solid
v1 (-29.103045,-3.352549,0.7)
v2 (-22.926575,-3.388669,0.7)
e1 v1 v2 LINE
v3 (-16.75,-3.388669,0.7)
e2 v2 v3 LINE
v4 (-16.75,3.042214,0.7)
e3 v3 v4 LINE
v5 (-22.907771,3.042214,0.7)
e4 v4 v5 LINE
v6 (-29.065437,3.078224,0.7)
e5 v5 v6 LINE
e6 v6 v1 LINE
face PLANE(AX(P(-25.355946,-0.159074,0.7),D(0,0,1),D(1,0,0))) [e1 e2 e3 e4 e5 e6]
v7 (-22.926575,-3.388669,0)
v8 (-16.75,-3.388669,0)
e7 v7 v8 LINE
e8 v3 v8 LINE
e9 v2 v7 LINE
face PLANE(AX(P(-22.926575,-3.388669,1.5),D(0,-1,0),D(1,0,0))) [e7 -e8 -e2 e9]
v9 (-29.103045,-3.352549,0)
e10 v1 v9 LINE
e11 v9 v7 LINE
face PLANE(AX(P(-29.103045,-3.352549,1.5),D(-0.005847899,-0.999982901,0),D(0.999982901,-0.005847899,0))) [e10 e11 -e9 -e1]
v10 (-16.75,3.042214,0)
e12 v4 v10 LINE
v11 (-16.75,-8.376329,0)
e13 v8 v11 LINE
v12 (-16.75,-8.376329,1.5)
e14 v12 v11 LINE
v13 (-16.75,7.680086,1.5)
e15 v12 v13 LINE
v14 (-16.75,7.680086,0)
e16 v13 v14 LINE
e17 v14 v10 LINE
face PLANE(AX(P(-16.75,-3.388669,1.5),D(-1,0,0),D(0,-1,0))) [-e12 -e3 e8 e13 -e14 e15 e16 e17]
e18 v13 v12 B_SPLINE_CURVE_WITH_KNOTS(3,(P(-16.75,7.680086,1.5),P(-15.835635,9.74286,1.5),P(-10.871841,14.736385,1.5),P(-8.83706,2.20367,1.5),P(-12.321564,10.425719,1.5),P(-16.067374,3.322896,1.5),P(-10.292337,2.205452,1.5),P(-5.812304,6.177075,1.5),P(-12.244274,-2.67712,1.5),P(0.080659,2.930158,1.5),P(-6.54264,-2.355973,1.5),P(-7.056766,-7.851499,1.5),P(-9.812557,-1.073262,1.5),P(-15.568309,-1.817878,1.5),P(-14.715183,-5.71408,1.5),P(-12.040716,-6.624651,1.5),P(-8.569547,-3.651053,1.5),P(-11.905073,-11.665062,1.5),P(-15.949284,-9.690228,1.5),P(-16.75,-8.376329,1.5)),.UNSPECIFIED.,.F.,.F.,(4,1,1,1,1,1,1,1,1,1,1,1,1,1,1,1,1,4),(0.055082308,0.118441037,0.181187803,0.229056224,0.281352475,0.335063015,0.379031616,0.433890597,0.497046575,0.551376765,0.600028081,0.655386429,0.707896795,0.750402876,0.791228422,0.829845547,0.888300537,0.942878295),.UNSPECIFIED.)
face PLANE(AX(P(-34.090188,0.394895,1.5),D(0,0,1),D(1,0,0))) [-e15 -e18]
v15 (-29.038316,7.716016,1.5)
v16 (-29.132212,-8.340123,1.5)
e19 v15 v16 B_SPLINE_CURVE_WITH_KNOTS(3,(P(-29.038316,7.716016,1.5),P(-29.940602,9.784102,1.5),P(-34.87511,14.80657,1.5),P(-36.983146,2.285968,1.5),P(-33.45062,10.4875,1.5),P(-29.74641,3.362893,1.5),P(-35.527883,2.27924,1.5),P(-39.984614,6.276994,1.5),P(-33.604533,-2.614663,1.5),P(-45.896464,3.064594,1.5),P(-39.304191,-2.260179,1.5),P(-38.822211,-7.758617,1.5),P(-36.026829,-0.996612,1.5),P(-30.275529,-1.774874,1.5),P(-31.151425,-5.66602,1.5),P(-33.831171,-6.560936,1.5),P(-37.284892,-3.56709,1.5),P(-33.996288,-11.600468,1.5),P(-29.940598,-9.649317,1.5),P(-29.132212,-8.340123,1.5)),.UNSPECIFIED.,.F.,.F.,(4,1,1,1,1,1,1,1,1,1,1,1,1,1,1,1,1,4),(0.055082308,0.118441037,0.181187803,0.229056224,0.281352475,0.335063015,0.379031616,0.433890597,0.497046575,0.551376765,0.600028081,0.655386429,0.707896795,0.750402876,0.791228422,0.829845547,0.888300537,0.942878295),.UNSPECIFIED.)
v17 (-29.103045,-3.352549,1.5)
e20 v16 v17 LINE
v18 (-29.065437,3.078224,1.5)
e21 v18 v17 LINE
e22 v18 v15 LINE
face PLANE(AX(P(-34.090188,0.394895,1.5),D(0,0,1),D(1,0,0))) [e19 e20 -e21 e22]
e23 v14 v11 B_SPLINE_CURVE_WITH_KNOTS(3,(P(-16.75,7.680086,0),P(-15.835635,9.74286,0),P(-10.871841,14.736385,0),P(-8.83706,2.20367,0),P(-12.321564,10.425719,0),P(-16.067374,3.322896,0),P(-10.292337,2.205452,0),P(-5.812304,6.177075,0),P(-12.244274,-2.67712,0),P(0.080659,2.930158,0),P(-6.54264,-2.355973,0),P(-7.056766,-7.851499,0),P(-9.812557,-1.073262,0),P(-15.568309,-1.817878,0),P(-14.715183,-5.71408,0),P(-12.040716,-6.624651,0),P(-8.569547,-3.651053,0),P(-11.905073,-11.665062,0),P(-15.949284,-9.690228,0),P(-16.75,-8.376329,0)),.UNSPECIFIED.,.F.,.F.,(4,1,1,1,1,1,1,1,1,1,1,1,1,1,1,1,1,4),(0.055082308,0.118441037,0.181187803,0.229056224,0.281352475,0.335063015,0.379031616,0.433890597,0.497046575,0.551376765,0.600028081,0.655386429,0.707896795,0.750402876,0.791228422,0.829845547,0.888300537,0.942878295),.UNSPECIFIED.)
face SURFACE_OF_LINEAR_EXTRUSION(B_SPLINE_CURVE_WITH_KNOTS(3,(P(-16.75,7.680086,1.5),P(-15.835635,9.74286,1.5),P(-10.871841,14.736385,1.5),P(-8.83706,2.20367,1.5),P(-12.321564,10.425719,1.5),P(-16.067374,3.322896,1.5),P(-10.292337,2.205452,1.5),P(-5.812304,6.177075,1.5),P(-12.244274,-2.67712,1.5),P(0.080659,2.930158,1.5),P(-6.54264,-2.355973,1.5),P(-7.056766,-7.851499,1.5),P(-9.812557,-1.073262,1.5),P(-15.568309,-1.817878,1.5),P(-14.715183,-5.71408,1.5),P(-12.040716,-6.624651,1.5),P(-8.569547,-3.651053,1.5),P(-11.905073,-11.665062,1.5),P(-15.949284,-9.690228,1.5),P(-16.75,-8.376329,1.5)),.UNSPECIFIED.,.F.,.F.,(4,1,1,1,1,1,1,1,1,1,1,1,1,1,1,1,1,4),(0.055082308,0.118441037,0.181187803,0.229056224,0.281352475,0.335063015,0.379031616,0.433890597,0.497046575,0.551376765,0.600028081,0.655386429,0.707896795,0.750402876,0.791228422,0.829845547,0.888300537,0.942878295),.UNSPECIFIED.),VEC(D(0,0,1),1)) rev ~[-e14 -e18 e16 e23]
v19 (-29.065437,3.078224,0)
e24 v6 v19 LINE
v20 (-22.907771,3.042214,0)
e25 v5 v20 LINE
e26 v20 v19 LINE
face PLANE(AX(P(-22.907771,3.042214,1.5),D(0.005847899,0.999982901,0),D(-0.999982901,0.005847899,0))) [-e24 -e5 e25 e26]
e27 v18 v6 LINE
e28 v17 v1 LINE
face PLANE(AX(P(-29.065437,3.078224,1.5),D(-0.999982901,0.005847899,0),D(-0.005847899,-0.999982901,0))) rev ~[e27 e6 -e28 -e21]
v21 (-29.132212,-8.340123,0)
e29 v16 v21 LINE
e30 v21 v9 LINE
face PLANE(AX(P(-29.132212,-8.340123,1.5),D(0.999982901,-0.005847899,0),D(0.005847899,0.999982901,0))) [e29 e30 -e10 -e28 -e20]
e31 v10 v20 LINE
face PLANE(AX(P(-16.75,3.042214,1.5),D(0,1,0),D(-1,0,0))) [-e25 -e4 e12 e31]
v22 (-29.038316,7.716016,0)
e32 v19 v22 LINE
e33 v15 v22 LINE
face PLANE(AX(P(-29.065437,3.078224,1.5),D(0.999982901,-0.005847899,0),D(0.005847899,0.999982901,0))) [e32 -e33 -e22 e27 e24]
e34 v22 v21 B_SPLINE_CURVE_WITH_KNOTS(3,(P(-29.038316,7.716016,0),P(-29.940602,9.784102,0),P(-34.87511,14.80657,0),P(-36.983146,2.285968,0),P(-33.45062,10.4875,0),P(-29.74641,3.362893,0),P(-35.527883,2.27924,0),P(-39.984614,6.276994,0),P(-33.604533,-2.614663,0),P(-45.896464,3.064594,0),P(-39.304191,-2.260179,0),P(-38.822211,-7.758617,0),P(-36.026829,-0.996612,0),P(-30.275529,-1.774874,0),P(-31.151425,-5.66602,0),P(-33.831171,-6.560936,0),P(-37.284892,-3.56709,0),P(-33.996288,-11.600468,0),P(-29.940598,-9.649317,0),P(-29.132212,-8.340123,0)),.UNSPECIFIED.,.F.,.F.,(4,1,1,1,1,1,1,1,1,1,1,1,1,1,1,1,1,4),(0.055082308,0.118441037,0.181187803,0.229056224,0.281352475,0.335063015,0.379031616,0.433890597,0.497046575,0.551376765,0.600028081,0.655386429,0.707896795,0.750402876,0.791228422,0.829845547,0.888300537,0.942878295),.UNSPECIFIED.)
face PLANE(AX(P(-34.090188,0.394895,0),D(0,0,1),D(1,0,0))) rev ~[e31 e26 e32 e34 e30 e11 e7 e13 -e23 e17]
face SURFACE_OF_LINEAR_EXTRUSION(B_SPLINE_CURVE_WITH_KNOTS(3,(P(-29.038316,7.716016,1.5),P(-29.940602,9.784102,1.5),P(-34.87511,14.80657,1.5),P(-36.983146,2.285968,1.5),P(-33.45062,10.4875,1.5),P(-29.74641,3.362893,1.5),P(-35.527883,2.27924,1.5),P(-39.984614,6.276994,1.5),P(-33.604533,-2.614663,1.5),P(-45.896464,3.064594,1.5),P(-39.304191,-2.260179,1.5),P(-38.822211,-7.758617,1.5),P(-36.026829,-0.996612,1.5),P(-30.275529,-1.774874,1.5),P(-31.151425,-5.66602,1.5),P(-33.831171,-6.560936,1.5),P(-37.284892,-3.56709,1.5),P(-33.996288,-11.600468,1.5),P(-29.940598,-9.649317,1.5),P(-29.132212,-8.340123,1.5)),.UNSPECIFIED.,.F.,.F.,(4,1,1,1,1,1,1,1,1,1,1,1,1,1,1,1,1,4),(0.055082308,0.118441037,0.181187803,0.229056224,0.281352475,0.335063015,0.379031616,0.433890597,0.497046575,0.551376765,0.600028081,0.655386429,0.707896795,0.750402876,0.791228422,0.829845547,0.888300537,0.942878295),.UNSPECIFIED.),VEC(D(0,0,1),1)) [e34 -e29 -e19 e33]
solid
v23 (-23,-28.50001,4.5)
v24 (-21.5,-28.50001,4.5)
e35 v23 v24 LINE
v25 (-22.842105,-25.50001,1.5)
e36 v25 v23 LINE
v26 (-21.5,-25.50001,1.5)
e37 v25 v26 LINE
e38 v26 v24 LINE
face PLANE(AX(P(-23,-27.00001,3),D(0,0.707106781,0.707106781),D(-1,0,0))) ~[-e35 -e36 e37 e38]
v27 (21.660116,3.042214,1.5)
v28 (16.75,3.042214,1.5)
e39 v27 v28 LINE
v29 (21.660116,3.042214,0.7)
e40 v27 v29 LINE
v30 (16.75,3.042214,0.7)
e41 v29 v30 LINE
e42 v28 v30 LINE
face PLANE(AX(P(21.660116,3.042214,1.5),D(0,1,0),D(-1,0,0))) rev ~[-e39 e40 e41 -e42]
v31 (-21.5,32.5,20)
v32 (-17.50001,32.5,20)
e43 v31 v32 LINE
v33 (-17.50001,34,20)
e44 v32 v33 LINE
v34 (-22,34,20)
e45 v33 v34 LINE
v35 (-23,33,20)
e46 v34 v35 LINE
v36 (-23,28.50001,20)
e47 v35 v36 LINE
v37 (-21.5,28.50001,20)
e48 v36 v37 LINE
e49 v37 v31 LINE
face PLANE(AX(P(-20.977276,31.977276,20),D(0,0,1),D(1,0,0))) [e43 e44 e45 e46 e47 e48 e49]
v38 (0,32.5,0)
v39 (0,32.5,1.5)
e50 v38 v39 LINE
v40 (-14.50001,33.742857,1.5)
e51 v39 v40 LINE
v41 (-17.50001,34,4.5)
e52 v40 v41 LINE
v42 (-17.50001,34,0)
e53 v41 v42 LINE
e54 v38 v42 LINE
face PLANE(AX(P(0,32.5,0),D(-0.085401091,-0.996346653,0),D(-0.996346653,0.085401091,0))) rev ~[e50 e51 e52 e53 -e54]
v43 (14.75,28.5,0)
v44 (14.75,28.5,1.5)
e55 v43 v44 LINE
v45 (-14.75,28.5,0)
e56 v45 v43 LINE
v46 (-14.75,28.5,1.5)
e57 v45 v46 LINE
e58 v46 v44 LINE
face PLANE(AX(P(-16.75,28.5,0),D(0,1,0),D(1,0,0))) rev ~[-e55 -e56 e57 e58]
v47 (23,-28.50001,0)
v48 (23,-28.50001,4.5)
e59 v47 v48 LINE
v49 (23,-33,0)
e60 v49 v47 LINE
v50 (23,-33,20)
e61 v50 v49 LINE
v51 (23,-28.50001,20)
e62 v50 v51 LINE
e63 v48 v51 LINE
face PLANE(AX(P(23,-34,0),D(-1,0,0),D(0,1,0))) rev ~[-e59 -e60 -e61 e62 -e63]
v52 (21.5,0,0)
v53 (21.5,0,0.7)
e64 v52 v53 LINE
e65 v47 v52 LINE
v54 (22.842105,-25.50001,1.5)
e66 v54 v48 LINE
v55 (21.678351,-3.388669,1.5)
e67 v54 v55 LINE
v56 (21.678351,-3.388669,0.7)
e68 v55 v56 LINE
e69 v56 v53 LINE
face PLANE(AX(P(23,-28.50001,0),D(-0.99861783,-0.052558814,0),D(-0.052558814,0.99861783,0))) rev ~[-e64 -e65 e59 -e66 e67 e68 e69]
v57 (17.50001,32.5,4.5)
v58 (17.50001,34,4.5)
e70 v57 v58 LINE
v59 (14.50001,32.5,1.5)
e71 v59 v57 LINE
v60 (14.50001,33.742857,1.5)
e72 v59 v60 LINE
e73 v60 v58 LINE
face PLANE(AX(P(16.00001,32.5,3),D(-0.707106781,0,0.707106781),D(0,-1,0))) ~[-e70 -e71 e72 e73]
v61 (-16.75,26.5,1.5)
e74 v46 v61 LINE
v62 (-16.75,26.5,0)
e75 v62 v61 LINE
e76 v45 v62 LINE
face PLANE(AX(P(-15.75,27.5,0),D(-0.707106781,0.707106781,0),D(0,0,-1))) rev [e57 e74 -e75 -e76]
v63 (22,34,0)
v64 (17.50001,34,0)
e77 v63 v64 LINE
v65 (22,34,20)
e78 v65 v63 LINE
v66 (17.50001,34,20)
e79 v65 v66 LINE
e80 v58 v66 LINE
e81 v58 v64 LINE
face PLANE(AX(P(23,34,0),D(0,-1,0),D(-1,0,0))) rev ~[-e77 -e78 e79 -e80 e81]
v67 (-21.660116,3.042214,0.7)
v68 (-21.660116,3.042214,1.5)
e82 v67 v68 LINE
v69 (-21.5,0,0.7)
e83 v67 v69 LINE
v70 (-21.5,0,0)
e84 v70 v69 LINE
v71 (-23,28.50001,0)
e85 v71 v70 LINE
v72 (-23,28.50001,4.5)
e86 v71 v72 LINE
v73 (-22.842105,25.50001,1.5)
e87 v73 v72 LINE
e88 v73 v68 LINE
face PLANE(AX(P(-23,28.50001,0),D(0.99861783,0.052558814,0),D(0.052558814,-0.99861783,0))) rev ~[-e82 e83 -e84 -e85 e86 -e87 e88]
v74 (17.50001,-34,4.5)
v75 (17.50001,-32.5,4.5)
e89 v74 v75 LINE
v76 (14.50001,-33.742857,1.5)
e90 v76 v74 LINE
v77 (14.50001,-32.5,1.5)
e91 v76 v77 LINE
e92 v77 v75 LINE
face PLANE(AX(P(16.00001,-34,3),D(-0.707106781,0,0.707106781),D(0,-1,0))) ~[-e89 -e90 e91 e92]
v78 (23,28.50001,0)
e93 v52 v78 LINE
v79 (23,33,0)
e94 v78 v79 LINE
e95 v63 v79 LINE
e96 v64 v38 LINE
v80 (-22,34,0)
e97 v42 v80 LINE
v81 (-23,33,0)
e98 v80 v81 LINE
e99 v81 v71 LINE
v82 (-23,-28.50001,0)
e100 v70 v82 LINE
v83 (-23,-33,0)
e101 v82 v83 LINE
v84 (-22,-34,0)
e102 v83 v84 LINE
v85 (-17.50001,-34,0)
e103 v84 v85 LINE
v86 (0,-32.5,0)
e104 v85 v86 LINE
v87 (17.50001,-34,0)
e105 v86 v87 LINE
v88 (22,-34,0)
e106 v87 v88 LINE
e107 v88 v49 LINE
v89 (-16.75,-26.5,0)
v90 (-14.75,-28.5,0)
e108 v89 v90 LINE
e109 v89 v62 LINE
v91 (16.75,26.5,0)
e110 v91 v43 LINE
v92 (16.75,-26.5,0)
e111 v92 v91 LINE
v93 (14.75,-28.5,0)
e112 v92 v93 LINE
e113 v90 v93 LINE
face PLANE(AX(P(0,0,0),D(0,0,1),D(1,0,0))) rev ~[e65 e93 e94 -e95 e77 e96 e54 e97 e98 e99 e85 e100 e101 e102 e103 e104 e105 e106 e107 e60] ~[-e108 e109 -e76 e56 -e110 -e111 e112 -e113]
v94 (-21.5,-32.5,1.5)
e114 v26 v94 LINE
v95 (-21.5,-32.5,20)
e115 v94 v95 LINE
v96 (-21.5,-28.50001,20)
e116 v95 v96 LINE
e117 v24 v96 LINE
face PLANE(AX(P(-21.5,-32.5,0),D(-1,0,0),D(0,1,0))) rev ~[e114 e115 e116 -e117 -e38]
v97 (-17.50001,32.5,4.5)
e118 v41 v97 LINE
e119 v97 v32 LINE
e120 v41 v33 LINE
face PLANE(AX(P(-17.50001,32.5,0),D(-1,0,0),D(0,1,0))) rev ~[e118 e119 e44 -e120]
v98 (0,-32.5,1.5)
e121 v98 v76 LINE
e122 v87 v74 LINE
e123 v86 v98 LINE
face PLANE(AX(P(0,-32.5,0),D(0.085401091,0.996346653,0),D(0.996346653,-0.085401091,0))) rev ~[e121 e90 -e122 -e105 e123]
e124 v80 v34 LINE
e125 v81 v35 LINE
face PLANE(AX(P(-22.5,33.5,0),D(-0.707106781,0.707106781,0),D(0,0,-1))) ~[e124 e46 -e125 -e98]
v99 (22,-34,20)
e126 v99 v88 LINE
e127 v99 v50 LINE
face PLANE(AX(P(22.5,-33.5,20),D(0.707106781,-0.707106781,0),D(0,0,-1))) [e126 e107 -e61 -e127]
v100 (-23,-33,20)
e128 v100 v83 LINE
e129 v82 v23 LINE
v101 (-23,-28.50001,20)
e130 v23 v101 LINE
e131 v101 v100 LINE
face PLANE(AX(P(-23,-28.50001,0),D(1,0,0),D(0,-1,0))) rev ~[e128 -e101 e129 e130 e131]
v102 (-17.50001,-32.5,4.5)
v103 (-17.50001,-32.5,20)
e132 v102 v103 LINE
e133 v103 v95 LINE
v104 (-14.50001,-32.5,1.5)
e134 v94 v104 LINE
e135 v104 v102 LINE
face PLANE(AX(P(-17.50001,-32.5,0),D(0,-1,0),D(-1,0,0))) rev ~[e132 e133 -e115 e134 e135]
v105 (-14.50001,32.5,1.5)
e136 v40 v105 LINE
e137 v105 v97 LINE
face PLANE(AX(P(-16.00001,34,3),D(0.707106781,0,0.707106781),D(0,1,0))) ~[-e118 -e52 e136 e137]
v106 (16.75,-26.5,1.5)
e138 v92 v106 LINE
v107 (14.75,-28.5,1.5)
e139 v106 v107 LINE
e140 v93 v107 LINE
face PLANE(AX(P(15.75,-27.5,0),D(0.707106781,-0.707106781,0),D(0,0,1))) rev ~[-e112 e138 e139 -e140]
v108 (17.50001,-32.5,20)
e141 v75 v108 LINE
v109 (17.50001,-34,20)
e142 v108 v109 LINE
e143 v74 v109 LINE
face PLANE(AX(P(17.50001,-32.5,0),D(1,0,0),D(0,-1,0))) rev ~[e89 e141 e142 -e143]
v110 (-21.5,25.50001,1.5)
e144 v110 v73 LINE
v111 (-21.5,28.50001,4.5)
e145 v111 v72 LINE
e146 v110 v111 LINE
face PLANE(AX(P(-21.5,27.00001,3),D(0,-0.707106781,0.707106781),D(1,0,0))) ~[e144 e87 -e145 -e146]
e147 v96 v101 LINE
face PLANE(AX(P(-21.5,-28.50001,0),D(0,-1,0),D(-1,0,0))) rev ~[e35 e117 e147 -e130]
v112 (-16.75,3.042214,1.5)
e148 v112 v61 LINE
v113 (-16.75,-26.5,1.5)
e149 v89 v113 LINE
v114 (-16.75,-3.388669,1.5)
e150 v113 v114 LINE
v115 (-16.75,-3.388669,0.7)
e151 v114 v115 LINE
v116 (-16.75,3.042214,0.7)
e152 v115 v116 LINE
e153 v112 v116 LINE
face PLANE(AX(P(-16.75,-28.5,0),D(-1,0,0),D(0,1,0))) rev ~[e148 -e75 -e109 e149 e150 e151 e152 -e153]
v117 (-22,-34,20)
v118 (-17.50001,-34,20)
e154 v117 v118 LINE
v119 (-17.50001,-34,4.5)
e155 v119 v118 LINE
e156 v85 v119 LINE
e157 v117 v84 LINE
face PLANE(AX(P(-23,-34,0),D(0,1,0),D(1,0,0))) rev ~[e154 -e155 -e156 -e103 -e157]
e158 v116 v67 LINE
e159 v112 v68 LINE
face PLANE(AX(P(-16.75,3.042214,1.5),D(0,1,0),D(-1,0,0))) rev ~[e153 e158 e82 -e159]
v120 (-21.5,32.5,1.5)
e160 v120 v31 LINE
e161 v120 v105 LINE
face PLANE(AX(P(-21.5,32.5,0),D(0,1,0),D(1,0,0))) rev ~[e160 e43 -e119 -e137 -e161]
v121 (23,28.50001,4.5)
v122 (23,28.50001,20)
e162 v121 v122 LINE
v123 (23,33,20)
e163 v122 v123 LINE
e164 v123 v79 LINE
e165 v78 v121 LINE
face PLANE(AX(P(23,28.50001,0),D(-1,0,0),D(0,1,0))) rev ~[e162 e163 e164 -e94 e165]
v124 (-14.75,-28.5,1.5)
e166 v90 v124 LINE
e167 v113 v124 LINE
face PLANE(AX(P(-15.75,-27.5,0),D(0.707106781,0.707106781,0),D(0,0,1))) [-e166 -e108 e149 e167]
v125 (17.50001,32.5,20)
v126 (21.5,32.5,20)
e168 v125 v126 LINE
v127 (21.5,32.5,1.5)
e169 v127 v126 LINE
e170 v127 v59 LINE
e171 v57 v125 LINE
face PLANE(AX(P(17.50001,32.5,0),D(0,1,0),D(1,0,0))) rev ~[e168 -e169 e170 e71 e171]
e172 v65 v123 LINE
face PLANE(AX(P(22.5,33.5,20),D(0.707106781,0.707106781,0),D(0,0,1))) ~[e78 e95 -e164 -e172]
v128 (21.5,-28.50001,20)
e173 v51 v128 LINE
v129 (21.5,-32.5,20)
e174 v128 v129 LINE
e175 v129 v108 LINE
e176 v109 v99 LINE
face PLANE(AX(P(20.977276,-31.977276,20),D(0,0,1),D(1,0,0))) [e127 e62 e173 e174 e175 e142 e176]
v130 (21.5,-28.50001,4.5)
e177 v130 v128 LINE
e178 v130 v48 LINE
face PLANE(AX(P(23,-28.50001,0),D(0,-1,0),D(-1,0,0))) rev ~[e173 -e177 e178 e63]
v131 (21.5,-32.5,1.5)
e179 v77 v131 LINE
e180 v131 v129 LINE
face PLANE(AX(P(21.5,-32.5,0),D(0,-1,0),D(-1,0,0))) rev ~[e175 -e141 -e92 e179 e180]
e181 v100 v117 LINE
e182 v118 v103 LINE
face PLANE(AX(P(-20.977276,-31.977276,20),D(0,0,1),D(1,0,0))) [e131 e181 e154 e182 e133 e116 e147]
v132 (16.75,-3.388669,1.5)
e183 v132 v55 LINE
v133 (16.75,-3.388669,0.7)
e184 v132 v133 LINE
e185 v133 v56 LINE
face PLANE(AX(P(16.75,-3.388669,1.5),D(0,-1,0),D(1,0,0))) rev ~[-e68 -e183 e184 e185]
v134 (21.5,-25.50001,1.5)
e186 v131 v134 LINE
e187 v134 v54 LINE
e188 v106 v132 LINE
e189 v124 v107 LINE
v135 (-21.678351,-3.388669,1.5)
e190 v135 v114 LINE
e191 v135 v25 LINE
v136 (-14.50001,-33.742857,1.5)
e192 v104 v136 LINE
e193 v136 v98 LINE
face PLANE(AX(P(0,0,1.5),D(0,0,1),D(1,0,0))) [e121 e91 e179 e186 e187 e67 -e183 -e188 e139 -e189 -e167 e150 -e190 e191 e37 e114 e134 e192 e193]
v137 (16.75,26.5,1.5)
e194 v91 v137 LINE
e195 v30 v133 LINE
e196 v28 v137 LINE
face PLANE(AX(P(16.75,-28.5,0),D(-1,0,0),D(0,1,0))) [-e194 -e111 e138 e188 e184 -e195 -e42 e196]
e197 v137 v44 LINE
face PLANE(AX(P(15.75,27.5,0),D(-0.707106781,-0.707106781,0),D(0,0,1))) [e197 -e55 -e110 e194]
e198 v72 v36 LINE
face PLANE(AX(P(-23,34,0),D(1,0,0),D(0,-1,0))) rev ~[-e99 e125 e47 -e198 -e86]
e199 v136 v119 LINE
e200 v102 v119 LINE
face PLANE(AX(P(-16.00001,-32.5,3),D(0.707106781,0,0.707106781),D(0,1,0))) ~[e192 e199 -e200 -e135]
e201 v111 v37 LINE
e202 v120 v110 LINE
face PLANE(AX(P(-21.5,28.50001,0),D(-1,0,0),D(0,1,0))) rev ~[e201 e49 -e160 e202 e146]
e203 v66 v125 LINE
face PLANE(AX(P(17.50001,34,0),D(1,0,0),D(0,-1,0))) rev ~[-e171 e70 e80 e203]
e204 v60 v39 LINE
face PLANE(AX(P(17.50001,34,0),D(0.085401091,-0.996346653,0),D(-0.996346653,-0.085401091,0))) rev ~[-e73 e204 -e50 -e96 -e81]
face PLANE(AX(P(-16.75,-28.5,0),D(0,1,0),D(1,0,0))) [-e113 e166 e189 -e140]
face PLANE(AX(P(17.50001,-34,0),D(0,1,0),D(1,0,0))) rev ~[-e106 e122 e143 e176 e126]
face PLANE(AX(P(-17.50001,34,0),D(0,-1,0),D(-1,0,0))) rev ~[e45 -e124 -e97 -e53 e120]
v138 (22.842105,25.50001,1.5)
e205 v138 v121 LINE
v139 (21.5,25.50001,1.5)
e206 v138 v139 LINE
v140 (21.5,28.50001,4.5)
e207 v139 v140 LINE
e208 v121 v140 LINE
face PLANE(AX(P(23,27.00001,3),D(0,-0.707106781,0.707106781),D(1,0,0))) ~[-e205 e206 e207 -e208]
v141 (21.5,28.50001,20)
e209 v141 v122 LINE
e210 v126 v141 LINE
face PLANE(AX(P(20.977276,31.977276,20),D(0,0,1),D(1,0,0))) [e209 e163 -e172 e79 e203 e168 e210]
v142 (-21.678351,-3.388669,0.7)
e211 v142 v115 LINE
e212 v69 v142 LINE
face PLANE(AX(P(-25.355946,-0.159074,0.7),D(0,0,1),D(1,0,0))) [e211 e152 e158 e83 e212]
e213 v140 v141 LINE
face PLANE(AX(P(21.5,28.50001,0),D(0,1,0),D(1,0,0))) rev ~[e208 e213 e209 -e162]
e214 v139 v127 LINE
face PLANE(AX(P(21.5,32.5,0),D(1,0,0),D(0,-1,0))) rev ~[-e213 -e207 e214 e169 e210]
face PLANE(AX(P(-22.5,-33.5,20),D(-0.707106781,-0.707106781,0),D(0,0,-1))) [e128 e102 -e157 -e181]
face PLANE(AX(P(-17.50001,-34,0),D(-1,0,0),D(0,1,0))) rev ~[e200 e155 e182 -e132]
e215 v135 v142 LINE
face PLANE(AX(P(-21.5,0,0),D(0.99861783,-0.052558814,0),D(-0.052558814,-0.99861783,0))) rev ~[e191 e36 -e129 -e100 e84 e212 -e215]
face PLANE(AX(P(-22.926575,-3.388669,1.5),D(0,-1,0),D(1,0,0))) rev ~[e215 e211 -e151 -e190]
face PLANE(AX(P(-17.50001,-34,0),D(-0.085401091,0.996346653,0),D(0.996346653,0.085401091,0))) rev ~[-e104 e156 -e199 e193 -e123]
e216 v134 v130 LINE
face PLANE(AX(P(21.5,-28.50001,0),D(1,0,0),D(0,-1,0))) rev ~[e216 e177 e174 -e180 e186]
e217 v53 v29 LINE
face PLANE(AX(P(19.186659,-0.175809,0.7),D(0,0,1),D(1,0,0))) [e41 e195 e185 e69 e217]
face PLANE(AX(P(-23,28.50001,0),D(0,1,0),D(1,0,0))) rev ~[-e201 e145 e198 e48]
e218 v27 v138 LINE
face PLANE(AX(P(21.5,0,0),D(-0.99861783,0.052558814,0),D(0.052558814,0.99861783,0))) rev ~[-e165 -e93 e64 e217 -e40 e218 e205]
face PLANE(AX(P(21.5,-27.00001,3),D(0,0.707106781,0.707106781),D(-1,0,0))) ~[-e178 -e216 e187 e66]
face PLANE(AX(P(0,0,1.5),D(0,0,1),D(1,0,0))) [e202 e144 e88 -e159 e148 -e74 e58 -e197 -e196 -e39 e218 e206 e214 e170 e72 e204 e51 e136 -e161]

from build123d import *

# Parameters (mm, degrees)
F0_W      = 33.5
F0_H      = 57
F1_DEPTH  = 1.5
F2_DEPTH  = 20
F3_SIZE   = 3
F4_SIZE   = 2
F5_SIZE   = 1
F7_DEPTH  = 1.5
F8_DEPTH  = 0.8
F10_DEPTH = 0.8


with BuildPart() as f1:
    # F0 (on Top) → F1 (new body)
    with BuildSketch(Plane.XY):
        Polygon((21.5, 28.5000104253), (21.5, 32.5), (17.5000104253, 32.5), (17.5000104253, 34), (0, 32.5), (-17.5000104253, 34), (-17.5000104253, 32.5), (-21.5, 32.5), (-21.5, 28.5000104253), (-23, 28.5000104253), (-21.5, 0), (-23, -28.5000104253), (-21.5, -28.5000104253), (-21.5, -32.5), (-17.5000104253, -32.5), (-17.5000104253, -34), (0, -32.5), (17.5000104253, -34), (17.5000104253, -32.5), (21.5, -32.5), (21.5, -28.5000104253), (23, -28.5000104253), (21.5, 0), (23, 28.5000104253), align=None)
        Rectangle(F0_W, F0_H, mode=Mode.SUBTRACT)
        Polygon((17.5000104253, 32.5), (21.5, 32.5), (21.5, 28.5000104253), (23, 28.5000104253), (23, 34), (17.5000104253, 34), align=None)
        Polygon((23, -34), (23, -28.5000104253), (21.5, -28.5000104253), (21.5, -32.5), (17.5000104253, -32.5), (17.5000104253, -34), align=None)
        Polygon((-21.5, -28.5000104253), (-23, -28.5000104253), (-23, -34), (-17.5000104253, -34), (-17.5000104253, -32.5), (-21.5, -32.5), align=None)
        Polygon((-17.5000104253, 32.5), (-17.5000104253, 34), (-23, 34), (-23, 28.5000104253), (-21.5, 28.5000104253), (-21.5, 32.5), align=None)
    extrude(amount=F1_DEPTH)

    # F0 (on Top) → F2 (join)
    with BuildSketch(Plane.XY):
        Polygon((-17.5000104253, 32.5), (-17.5000104253, 34), (-23, 34), (-23, 28.5000104253), (-21.5, 28.5000104253), (-21.5, 32.5), align=None)
        Polygon((17.5000104253, 32.5), (21.5, 32.5), (21.5, 28.5000104253), (23, 28.5000104253), (23, 34), (17.5000104253, 34), align=None)
        Polygon((23, -34), (23, -28.5000104253), (21.5, -28.5000104253), (21.5, -32.5), (17.5000104253, -32.5), (17.5000104253, -34), align=None)
        Polygon((-21.5, -28.5000104253), (-23, -28.5000104253), (-23, -34), (-17.5000104253, -34), (-17.5000104253, -32.5), (-21.5, -32.5), align=None)
    extrude(amount=F2_DEPTH)

    # F3
    f3_edges = [f1.edges().sort_by_distance(p)[0] for p in [
        (-22.25, 28.50001, 1.5),
        (-17.50001, 33.25, 1.5),
        (22.25, 28.50001, 1.5),
        (17.50001, 33.25, 1.5),
        (-17.50001, -33.25, 1.5),
        (-22.25, -28.50001, 1.5),
        (22.25, -28.50001, 1.5),
        (17.50001, -33.25, 1.5),
    ]]
    chamfer(f3_edges, length=F3_SIZE)

    # F4
    f4_edges = [f1.edges().sort_by_distance(p)[0] for p in [
        (-16.75, 28.5, 0.75),
        (16.75, 28.5, 0.75),
        (-16.75, -28.5, 0.75),
        (16.75, -28.5, 0.75),
    ]]
    chamfer(f4_edges, length=F4_SIZE)

    # F5
    f5_edges = [f1.edges().sort_by_distance(p)[0] for p in [
        (-23, 34, 10),
        (-23, -34, 10),
        (23, -34, 10),
        (23, 34, 10),
    ]]
    chamfer(f5_edges, length=F5_SIZE)


with BuildPart() as f7:
    # F6 (on face) → F7 (new body)
    with BuildSketch(Plane.XY.offset(1.5)):
        with BuildLine():
            Line((-29.1030445489, -3.3525493938), (-29.0654373915, 3.0782243753))
            Line((-29.0654373915, 3.0782243753), (-29.0383155892, 7.7160163922))
            add(Edge.make_bspline(
                [(-29.0383155892, 7.7160163922), (-29.9406019462, 9.7841024315), (-34.8751096566, 14.8065698676), (-36.9831459513, 2.2859684659), (-33.4506196276, 10.4874996123), (-29.746410024, 3.3628928387), (-35.5278832703, 2.2792400073), (-39.9846142135, 6.2769939518), (-33.60453287, -2.6146634755), (-45.8964637825, 3.0645942509), (-39.3041907676, -2.2601786646), (-38.8222108607, -7.7586172732), (-36.0268290042, -0.996611834), (-30.2755292889, -1.7748739856), (-31.1514254061, -5.6660203725), (-33.8311714785, -6.5609362605), (-37.2848915777, -3.5670900505), (-33.9962883345, -11.6004677907), (-29.9405979657, -9.6493172605), (-29.1322118754, -8.3401233432)],
                knots=[0.0550823076, 0.0550823076, 0.0550823076, 0.0550823076, 0.1184410368, 0.1811878028, 0.229056224, 0.2813524749, 0.3350630146, 0.3790316164, 0.4338905965, 0.4970465751, 0.5513767649, 0.6000280808, 0.6553864292, 0.7078967951, 0.7504028761, 0.791228422, 0.829845547, 0.8883005368, 0.9428782945, 0.9428782945, 0.9428782945, 0.9428782945], degree=3))
            Line((-29.1322118754, -8.3401233432), (-29.1030445489, -3.3525493938))
        make_face()
        Polygon((-16.75, -0.1732275142), (-16.75, 3.0422143515), (-21.6601164862, 3.0422143515), (-21.5, 0), (-21.6783509548, -3.3886693799), (-16.75, -3.3886693799), align=None)
        Polygon((-21.5, 0), (-21.6601164862, 3.0422143515), (-22.9077713419, 3.0422143515), (-29.0654373915, 3.0782243753), (-29.1030445489, -3.3525493938), (-22.9265750814, -3.3886693799), (-21.6783509548, -3.3886693799), align=None)
        with BuildLine():
            Line((-16.75, 7.6800856718), (-16.75, 3.0422143515))
            Line((-16.75, 3.0422143515), (-16.75, -0.1732275142))
            Line((-16.75, -0.1732275142), (-16.75, -3.3886693799))
            Line((-16.75, -3.3886693799), (-16.75, -8.3763286138))
            add(Edge.make_bspline(
                [(-16.75, 7.6800856718), (-15.8356351135, 9.7428598694), (-10.8718408972, 14.736384924), (-8.8370598583, 2.2036700305), (-12.3215640546, 10.4257187945), (-16.0673742991, 3.3228956883), (-10.292337003, 2.2054519158), (-5.8123038053, 6.1770749906), (-12.2442735681, -2.6771203271), (0.0806588879, 2.9301583208), (-6.5426401383, -2.3559726002), (-7.0567661164, -7.8514986207), (-9.8125566507, -1.0732616955), (-15.5683092223, -1.8178775208), (-14.7151831125, -5.7140795243), (-12.0407162388, -6.624650994), (-8.5695474855, -3.6510529817), (-11.9050728768, -11.6650619394), (-15.949283766, -9.6902275052), (-16.75, -8.3763286138)],
                knots=[0.0550823076, 0.0550823076, 0.0550823076, 0.0550823076, 0.1184410368, 0.1811878028, 0.229056224, 0.2813524749, 0.3350630146, 0.3790316164, 0.4338905965, 0.4970465751, 0.5513767649, 0.6000280808, 0.6553864292, 0.7078967951, 0.7504028761, 0.791228422, 0.829845547, 0.8883005368, 0.9428782945, 0.9428782945, 0.9428782945, 0.9428782945], degree=3))
        make_face()
    extrude(amount=-F7_DEPTH)


with BuildPart() as f8_tool:
    # F6 (on face) → F8 (new body)
    with BuildSketch(Plane.XY.offset(1.5)):
        Polygon((-21.5, 0), (-21.6601164862, 3.0422143515), (-22.9077713419, 3.0422143515), (-29.0654373915, 3.0782243753), (-29.1030445489, -3.3525493938), (-22.9265750814, -3.3886693799), (-21.6783509548, -3.3886693799), align=None)
        Polygon((-16.75, -0.1732275142), (-16.75, 3.0422143515), (-21.6601164862, 3.0422143515), (-21.5, 0), (-21.6783509548, -3.3886693799), (-16.75, -3.3886693799), align=None)
    extrude(amount=-F8_DEPTH)


with BuildPart() as f1_1:
    add(f1.part)

    # F8: cut by f8_tool
    add(f8_tool.part, mode=Mode.SUBTRACT)

    # F6 (on face) + F9 (on face) → F10 (cut)
    with BuildSketch(Plane.XY.offset(1.5)):
        Polygon((-16.75, -0.1732275142), (-16.75, 3.0422143515), (-21.6601164862, 3.0422143515), (-21.5, 0), (-21.6783509548, -3.3886693799), (-16.75, -3.3886693799), align=None)
    with BuildSketch(Plane.XY.offset(1.5)):
        Polygon((21.6601164862, 3.0422143515), (16.75, 3.0422143515), (16.75, -3.3886693799), (21.6783509548, -3.3886693799), (21.5, 0), align=None)
    extrude(amount=-F10_DEPTH, mode=Mode.SUBTRACT)


with BuildPart() as f7_1:
    add(f7.part)

    # F8: cut by f8_tool
    add(f8_tool.part, mode=Mode.SUBTRACT)


solid = Compound([f1_1.part, f7_1.part])
